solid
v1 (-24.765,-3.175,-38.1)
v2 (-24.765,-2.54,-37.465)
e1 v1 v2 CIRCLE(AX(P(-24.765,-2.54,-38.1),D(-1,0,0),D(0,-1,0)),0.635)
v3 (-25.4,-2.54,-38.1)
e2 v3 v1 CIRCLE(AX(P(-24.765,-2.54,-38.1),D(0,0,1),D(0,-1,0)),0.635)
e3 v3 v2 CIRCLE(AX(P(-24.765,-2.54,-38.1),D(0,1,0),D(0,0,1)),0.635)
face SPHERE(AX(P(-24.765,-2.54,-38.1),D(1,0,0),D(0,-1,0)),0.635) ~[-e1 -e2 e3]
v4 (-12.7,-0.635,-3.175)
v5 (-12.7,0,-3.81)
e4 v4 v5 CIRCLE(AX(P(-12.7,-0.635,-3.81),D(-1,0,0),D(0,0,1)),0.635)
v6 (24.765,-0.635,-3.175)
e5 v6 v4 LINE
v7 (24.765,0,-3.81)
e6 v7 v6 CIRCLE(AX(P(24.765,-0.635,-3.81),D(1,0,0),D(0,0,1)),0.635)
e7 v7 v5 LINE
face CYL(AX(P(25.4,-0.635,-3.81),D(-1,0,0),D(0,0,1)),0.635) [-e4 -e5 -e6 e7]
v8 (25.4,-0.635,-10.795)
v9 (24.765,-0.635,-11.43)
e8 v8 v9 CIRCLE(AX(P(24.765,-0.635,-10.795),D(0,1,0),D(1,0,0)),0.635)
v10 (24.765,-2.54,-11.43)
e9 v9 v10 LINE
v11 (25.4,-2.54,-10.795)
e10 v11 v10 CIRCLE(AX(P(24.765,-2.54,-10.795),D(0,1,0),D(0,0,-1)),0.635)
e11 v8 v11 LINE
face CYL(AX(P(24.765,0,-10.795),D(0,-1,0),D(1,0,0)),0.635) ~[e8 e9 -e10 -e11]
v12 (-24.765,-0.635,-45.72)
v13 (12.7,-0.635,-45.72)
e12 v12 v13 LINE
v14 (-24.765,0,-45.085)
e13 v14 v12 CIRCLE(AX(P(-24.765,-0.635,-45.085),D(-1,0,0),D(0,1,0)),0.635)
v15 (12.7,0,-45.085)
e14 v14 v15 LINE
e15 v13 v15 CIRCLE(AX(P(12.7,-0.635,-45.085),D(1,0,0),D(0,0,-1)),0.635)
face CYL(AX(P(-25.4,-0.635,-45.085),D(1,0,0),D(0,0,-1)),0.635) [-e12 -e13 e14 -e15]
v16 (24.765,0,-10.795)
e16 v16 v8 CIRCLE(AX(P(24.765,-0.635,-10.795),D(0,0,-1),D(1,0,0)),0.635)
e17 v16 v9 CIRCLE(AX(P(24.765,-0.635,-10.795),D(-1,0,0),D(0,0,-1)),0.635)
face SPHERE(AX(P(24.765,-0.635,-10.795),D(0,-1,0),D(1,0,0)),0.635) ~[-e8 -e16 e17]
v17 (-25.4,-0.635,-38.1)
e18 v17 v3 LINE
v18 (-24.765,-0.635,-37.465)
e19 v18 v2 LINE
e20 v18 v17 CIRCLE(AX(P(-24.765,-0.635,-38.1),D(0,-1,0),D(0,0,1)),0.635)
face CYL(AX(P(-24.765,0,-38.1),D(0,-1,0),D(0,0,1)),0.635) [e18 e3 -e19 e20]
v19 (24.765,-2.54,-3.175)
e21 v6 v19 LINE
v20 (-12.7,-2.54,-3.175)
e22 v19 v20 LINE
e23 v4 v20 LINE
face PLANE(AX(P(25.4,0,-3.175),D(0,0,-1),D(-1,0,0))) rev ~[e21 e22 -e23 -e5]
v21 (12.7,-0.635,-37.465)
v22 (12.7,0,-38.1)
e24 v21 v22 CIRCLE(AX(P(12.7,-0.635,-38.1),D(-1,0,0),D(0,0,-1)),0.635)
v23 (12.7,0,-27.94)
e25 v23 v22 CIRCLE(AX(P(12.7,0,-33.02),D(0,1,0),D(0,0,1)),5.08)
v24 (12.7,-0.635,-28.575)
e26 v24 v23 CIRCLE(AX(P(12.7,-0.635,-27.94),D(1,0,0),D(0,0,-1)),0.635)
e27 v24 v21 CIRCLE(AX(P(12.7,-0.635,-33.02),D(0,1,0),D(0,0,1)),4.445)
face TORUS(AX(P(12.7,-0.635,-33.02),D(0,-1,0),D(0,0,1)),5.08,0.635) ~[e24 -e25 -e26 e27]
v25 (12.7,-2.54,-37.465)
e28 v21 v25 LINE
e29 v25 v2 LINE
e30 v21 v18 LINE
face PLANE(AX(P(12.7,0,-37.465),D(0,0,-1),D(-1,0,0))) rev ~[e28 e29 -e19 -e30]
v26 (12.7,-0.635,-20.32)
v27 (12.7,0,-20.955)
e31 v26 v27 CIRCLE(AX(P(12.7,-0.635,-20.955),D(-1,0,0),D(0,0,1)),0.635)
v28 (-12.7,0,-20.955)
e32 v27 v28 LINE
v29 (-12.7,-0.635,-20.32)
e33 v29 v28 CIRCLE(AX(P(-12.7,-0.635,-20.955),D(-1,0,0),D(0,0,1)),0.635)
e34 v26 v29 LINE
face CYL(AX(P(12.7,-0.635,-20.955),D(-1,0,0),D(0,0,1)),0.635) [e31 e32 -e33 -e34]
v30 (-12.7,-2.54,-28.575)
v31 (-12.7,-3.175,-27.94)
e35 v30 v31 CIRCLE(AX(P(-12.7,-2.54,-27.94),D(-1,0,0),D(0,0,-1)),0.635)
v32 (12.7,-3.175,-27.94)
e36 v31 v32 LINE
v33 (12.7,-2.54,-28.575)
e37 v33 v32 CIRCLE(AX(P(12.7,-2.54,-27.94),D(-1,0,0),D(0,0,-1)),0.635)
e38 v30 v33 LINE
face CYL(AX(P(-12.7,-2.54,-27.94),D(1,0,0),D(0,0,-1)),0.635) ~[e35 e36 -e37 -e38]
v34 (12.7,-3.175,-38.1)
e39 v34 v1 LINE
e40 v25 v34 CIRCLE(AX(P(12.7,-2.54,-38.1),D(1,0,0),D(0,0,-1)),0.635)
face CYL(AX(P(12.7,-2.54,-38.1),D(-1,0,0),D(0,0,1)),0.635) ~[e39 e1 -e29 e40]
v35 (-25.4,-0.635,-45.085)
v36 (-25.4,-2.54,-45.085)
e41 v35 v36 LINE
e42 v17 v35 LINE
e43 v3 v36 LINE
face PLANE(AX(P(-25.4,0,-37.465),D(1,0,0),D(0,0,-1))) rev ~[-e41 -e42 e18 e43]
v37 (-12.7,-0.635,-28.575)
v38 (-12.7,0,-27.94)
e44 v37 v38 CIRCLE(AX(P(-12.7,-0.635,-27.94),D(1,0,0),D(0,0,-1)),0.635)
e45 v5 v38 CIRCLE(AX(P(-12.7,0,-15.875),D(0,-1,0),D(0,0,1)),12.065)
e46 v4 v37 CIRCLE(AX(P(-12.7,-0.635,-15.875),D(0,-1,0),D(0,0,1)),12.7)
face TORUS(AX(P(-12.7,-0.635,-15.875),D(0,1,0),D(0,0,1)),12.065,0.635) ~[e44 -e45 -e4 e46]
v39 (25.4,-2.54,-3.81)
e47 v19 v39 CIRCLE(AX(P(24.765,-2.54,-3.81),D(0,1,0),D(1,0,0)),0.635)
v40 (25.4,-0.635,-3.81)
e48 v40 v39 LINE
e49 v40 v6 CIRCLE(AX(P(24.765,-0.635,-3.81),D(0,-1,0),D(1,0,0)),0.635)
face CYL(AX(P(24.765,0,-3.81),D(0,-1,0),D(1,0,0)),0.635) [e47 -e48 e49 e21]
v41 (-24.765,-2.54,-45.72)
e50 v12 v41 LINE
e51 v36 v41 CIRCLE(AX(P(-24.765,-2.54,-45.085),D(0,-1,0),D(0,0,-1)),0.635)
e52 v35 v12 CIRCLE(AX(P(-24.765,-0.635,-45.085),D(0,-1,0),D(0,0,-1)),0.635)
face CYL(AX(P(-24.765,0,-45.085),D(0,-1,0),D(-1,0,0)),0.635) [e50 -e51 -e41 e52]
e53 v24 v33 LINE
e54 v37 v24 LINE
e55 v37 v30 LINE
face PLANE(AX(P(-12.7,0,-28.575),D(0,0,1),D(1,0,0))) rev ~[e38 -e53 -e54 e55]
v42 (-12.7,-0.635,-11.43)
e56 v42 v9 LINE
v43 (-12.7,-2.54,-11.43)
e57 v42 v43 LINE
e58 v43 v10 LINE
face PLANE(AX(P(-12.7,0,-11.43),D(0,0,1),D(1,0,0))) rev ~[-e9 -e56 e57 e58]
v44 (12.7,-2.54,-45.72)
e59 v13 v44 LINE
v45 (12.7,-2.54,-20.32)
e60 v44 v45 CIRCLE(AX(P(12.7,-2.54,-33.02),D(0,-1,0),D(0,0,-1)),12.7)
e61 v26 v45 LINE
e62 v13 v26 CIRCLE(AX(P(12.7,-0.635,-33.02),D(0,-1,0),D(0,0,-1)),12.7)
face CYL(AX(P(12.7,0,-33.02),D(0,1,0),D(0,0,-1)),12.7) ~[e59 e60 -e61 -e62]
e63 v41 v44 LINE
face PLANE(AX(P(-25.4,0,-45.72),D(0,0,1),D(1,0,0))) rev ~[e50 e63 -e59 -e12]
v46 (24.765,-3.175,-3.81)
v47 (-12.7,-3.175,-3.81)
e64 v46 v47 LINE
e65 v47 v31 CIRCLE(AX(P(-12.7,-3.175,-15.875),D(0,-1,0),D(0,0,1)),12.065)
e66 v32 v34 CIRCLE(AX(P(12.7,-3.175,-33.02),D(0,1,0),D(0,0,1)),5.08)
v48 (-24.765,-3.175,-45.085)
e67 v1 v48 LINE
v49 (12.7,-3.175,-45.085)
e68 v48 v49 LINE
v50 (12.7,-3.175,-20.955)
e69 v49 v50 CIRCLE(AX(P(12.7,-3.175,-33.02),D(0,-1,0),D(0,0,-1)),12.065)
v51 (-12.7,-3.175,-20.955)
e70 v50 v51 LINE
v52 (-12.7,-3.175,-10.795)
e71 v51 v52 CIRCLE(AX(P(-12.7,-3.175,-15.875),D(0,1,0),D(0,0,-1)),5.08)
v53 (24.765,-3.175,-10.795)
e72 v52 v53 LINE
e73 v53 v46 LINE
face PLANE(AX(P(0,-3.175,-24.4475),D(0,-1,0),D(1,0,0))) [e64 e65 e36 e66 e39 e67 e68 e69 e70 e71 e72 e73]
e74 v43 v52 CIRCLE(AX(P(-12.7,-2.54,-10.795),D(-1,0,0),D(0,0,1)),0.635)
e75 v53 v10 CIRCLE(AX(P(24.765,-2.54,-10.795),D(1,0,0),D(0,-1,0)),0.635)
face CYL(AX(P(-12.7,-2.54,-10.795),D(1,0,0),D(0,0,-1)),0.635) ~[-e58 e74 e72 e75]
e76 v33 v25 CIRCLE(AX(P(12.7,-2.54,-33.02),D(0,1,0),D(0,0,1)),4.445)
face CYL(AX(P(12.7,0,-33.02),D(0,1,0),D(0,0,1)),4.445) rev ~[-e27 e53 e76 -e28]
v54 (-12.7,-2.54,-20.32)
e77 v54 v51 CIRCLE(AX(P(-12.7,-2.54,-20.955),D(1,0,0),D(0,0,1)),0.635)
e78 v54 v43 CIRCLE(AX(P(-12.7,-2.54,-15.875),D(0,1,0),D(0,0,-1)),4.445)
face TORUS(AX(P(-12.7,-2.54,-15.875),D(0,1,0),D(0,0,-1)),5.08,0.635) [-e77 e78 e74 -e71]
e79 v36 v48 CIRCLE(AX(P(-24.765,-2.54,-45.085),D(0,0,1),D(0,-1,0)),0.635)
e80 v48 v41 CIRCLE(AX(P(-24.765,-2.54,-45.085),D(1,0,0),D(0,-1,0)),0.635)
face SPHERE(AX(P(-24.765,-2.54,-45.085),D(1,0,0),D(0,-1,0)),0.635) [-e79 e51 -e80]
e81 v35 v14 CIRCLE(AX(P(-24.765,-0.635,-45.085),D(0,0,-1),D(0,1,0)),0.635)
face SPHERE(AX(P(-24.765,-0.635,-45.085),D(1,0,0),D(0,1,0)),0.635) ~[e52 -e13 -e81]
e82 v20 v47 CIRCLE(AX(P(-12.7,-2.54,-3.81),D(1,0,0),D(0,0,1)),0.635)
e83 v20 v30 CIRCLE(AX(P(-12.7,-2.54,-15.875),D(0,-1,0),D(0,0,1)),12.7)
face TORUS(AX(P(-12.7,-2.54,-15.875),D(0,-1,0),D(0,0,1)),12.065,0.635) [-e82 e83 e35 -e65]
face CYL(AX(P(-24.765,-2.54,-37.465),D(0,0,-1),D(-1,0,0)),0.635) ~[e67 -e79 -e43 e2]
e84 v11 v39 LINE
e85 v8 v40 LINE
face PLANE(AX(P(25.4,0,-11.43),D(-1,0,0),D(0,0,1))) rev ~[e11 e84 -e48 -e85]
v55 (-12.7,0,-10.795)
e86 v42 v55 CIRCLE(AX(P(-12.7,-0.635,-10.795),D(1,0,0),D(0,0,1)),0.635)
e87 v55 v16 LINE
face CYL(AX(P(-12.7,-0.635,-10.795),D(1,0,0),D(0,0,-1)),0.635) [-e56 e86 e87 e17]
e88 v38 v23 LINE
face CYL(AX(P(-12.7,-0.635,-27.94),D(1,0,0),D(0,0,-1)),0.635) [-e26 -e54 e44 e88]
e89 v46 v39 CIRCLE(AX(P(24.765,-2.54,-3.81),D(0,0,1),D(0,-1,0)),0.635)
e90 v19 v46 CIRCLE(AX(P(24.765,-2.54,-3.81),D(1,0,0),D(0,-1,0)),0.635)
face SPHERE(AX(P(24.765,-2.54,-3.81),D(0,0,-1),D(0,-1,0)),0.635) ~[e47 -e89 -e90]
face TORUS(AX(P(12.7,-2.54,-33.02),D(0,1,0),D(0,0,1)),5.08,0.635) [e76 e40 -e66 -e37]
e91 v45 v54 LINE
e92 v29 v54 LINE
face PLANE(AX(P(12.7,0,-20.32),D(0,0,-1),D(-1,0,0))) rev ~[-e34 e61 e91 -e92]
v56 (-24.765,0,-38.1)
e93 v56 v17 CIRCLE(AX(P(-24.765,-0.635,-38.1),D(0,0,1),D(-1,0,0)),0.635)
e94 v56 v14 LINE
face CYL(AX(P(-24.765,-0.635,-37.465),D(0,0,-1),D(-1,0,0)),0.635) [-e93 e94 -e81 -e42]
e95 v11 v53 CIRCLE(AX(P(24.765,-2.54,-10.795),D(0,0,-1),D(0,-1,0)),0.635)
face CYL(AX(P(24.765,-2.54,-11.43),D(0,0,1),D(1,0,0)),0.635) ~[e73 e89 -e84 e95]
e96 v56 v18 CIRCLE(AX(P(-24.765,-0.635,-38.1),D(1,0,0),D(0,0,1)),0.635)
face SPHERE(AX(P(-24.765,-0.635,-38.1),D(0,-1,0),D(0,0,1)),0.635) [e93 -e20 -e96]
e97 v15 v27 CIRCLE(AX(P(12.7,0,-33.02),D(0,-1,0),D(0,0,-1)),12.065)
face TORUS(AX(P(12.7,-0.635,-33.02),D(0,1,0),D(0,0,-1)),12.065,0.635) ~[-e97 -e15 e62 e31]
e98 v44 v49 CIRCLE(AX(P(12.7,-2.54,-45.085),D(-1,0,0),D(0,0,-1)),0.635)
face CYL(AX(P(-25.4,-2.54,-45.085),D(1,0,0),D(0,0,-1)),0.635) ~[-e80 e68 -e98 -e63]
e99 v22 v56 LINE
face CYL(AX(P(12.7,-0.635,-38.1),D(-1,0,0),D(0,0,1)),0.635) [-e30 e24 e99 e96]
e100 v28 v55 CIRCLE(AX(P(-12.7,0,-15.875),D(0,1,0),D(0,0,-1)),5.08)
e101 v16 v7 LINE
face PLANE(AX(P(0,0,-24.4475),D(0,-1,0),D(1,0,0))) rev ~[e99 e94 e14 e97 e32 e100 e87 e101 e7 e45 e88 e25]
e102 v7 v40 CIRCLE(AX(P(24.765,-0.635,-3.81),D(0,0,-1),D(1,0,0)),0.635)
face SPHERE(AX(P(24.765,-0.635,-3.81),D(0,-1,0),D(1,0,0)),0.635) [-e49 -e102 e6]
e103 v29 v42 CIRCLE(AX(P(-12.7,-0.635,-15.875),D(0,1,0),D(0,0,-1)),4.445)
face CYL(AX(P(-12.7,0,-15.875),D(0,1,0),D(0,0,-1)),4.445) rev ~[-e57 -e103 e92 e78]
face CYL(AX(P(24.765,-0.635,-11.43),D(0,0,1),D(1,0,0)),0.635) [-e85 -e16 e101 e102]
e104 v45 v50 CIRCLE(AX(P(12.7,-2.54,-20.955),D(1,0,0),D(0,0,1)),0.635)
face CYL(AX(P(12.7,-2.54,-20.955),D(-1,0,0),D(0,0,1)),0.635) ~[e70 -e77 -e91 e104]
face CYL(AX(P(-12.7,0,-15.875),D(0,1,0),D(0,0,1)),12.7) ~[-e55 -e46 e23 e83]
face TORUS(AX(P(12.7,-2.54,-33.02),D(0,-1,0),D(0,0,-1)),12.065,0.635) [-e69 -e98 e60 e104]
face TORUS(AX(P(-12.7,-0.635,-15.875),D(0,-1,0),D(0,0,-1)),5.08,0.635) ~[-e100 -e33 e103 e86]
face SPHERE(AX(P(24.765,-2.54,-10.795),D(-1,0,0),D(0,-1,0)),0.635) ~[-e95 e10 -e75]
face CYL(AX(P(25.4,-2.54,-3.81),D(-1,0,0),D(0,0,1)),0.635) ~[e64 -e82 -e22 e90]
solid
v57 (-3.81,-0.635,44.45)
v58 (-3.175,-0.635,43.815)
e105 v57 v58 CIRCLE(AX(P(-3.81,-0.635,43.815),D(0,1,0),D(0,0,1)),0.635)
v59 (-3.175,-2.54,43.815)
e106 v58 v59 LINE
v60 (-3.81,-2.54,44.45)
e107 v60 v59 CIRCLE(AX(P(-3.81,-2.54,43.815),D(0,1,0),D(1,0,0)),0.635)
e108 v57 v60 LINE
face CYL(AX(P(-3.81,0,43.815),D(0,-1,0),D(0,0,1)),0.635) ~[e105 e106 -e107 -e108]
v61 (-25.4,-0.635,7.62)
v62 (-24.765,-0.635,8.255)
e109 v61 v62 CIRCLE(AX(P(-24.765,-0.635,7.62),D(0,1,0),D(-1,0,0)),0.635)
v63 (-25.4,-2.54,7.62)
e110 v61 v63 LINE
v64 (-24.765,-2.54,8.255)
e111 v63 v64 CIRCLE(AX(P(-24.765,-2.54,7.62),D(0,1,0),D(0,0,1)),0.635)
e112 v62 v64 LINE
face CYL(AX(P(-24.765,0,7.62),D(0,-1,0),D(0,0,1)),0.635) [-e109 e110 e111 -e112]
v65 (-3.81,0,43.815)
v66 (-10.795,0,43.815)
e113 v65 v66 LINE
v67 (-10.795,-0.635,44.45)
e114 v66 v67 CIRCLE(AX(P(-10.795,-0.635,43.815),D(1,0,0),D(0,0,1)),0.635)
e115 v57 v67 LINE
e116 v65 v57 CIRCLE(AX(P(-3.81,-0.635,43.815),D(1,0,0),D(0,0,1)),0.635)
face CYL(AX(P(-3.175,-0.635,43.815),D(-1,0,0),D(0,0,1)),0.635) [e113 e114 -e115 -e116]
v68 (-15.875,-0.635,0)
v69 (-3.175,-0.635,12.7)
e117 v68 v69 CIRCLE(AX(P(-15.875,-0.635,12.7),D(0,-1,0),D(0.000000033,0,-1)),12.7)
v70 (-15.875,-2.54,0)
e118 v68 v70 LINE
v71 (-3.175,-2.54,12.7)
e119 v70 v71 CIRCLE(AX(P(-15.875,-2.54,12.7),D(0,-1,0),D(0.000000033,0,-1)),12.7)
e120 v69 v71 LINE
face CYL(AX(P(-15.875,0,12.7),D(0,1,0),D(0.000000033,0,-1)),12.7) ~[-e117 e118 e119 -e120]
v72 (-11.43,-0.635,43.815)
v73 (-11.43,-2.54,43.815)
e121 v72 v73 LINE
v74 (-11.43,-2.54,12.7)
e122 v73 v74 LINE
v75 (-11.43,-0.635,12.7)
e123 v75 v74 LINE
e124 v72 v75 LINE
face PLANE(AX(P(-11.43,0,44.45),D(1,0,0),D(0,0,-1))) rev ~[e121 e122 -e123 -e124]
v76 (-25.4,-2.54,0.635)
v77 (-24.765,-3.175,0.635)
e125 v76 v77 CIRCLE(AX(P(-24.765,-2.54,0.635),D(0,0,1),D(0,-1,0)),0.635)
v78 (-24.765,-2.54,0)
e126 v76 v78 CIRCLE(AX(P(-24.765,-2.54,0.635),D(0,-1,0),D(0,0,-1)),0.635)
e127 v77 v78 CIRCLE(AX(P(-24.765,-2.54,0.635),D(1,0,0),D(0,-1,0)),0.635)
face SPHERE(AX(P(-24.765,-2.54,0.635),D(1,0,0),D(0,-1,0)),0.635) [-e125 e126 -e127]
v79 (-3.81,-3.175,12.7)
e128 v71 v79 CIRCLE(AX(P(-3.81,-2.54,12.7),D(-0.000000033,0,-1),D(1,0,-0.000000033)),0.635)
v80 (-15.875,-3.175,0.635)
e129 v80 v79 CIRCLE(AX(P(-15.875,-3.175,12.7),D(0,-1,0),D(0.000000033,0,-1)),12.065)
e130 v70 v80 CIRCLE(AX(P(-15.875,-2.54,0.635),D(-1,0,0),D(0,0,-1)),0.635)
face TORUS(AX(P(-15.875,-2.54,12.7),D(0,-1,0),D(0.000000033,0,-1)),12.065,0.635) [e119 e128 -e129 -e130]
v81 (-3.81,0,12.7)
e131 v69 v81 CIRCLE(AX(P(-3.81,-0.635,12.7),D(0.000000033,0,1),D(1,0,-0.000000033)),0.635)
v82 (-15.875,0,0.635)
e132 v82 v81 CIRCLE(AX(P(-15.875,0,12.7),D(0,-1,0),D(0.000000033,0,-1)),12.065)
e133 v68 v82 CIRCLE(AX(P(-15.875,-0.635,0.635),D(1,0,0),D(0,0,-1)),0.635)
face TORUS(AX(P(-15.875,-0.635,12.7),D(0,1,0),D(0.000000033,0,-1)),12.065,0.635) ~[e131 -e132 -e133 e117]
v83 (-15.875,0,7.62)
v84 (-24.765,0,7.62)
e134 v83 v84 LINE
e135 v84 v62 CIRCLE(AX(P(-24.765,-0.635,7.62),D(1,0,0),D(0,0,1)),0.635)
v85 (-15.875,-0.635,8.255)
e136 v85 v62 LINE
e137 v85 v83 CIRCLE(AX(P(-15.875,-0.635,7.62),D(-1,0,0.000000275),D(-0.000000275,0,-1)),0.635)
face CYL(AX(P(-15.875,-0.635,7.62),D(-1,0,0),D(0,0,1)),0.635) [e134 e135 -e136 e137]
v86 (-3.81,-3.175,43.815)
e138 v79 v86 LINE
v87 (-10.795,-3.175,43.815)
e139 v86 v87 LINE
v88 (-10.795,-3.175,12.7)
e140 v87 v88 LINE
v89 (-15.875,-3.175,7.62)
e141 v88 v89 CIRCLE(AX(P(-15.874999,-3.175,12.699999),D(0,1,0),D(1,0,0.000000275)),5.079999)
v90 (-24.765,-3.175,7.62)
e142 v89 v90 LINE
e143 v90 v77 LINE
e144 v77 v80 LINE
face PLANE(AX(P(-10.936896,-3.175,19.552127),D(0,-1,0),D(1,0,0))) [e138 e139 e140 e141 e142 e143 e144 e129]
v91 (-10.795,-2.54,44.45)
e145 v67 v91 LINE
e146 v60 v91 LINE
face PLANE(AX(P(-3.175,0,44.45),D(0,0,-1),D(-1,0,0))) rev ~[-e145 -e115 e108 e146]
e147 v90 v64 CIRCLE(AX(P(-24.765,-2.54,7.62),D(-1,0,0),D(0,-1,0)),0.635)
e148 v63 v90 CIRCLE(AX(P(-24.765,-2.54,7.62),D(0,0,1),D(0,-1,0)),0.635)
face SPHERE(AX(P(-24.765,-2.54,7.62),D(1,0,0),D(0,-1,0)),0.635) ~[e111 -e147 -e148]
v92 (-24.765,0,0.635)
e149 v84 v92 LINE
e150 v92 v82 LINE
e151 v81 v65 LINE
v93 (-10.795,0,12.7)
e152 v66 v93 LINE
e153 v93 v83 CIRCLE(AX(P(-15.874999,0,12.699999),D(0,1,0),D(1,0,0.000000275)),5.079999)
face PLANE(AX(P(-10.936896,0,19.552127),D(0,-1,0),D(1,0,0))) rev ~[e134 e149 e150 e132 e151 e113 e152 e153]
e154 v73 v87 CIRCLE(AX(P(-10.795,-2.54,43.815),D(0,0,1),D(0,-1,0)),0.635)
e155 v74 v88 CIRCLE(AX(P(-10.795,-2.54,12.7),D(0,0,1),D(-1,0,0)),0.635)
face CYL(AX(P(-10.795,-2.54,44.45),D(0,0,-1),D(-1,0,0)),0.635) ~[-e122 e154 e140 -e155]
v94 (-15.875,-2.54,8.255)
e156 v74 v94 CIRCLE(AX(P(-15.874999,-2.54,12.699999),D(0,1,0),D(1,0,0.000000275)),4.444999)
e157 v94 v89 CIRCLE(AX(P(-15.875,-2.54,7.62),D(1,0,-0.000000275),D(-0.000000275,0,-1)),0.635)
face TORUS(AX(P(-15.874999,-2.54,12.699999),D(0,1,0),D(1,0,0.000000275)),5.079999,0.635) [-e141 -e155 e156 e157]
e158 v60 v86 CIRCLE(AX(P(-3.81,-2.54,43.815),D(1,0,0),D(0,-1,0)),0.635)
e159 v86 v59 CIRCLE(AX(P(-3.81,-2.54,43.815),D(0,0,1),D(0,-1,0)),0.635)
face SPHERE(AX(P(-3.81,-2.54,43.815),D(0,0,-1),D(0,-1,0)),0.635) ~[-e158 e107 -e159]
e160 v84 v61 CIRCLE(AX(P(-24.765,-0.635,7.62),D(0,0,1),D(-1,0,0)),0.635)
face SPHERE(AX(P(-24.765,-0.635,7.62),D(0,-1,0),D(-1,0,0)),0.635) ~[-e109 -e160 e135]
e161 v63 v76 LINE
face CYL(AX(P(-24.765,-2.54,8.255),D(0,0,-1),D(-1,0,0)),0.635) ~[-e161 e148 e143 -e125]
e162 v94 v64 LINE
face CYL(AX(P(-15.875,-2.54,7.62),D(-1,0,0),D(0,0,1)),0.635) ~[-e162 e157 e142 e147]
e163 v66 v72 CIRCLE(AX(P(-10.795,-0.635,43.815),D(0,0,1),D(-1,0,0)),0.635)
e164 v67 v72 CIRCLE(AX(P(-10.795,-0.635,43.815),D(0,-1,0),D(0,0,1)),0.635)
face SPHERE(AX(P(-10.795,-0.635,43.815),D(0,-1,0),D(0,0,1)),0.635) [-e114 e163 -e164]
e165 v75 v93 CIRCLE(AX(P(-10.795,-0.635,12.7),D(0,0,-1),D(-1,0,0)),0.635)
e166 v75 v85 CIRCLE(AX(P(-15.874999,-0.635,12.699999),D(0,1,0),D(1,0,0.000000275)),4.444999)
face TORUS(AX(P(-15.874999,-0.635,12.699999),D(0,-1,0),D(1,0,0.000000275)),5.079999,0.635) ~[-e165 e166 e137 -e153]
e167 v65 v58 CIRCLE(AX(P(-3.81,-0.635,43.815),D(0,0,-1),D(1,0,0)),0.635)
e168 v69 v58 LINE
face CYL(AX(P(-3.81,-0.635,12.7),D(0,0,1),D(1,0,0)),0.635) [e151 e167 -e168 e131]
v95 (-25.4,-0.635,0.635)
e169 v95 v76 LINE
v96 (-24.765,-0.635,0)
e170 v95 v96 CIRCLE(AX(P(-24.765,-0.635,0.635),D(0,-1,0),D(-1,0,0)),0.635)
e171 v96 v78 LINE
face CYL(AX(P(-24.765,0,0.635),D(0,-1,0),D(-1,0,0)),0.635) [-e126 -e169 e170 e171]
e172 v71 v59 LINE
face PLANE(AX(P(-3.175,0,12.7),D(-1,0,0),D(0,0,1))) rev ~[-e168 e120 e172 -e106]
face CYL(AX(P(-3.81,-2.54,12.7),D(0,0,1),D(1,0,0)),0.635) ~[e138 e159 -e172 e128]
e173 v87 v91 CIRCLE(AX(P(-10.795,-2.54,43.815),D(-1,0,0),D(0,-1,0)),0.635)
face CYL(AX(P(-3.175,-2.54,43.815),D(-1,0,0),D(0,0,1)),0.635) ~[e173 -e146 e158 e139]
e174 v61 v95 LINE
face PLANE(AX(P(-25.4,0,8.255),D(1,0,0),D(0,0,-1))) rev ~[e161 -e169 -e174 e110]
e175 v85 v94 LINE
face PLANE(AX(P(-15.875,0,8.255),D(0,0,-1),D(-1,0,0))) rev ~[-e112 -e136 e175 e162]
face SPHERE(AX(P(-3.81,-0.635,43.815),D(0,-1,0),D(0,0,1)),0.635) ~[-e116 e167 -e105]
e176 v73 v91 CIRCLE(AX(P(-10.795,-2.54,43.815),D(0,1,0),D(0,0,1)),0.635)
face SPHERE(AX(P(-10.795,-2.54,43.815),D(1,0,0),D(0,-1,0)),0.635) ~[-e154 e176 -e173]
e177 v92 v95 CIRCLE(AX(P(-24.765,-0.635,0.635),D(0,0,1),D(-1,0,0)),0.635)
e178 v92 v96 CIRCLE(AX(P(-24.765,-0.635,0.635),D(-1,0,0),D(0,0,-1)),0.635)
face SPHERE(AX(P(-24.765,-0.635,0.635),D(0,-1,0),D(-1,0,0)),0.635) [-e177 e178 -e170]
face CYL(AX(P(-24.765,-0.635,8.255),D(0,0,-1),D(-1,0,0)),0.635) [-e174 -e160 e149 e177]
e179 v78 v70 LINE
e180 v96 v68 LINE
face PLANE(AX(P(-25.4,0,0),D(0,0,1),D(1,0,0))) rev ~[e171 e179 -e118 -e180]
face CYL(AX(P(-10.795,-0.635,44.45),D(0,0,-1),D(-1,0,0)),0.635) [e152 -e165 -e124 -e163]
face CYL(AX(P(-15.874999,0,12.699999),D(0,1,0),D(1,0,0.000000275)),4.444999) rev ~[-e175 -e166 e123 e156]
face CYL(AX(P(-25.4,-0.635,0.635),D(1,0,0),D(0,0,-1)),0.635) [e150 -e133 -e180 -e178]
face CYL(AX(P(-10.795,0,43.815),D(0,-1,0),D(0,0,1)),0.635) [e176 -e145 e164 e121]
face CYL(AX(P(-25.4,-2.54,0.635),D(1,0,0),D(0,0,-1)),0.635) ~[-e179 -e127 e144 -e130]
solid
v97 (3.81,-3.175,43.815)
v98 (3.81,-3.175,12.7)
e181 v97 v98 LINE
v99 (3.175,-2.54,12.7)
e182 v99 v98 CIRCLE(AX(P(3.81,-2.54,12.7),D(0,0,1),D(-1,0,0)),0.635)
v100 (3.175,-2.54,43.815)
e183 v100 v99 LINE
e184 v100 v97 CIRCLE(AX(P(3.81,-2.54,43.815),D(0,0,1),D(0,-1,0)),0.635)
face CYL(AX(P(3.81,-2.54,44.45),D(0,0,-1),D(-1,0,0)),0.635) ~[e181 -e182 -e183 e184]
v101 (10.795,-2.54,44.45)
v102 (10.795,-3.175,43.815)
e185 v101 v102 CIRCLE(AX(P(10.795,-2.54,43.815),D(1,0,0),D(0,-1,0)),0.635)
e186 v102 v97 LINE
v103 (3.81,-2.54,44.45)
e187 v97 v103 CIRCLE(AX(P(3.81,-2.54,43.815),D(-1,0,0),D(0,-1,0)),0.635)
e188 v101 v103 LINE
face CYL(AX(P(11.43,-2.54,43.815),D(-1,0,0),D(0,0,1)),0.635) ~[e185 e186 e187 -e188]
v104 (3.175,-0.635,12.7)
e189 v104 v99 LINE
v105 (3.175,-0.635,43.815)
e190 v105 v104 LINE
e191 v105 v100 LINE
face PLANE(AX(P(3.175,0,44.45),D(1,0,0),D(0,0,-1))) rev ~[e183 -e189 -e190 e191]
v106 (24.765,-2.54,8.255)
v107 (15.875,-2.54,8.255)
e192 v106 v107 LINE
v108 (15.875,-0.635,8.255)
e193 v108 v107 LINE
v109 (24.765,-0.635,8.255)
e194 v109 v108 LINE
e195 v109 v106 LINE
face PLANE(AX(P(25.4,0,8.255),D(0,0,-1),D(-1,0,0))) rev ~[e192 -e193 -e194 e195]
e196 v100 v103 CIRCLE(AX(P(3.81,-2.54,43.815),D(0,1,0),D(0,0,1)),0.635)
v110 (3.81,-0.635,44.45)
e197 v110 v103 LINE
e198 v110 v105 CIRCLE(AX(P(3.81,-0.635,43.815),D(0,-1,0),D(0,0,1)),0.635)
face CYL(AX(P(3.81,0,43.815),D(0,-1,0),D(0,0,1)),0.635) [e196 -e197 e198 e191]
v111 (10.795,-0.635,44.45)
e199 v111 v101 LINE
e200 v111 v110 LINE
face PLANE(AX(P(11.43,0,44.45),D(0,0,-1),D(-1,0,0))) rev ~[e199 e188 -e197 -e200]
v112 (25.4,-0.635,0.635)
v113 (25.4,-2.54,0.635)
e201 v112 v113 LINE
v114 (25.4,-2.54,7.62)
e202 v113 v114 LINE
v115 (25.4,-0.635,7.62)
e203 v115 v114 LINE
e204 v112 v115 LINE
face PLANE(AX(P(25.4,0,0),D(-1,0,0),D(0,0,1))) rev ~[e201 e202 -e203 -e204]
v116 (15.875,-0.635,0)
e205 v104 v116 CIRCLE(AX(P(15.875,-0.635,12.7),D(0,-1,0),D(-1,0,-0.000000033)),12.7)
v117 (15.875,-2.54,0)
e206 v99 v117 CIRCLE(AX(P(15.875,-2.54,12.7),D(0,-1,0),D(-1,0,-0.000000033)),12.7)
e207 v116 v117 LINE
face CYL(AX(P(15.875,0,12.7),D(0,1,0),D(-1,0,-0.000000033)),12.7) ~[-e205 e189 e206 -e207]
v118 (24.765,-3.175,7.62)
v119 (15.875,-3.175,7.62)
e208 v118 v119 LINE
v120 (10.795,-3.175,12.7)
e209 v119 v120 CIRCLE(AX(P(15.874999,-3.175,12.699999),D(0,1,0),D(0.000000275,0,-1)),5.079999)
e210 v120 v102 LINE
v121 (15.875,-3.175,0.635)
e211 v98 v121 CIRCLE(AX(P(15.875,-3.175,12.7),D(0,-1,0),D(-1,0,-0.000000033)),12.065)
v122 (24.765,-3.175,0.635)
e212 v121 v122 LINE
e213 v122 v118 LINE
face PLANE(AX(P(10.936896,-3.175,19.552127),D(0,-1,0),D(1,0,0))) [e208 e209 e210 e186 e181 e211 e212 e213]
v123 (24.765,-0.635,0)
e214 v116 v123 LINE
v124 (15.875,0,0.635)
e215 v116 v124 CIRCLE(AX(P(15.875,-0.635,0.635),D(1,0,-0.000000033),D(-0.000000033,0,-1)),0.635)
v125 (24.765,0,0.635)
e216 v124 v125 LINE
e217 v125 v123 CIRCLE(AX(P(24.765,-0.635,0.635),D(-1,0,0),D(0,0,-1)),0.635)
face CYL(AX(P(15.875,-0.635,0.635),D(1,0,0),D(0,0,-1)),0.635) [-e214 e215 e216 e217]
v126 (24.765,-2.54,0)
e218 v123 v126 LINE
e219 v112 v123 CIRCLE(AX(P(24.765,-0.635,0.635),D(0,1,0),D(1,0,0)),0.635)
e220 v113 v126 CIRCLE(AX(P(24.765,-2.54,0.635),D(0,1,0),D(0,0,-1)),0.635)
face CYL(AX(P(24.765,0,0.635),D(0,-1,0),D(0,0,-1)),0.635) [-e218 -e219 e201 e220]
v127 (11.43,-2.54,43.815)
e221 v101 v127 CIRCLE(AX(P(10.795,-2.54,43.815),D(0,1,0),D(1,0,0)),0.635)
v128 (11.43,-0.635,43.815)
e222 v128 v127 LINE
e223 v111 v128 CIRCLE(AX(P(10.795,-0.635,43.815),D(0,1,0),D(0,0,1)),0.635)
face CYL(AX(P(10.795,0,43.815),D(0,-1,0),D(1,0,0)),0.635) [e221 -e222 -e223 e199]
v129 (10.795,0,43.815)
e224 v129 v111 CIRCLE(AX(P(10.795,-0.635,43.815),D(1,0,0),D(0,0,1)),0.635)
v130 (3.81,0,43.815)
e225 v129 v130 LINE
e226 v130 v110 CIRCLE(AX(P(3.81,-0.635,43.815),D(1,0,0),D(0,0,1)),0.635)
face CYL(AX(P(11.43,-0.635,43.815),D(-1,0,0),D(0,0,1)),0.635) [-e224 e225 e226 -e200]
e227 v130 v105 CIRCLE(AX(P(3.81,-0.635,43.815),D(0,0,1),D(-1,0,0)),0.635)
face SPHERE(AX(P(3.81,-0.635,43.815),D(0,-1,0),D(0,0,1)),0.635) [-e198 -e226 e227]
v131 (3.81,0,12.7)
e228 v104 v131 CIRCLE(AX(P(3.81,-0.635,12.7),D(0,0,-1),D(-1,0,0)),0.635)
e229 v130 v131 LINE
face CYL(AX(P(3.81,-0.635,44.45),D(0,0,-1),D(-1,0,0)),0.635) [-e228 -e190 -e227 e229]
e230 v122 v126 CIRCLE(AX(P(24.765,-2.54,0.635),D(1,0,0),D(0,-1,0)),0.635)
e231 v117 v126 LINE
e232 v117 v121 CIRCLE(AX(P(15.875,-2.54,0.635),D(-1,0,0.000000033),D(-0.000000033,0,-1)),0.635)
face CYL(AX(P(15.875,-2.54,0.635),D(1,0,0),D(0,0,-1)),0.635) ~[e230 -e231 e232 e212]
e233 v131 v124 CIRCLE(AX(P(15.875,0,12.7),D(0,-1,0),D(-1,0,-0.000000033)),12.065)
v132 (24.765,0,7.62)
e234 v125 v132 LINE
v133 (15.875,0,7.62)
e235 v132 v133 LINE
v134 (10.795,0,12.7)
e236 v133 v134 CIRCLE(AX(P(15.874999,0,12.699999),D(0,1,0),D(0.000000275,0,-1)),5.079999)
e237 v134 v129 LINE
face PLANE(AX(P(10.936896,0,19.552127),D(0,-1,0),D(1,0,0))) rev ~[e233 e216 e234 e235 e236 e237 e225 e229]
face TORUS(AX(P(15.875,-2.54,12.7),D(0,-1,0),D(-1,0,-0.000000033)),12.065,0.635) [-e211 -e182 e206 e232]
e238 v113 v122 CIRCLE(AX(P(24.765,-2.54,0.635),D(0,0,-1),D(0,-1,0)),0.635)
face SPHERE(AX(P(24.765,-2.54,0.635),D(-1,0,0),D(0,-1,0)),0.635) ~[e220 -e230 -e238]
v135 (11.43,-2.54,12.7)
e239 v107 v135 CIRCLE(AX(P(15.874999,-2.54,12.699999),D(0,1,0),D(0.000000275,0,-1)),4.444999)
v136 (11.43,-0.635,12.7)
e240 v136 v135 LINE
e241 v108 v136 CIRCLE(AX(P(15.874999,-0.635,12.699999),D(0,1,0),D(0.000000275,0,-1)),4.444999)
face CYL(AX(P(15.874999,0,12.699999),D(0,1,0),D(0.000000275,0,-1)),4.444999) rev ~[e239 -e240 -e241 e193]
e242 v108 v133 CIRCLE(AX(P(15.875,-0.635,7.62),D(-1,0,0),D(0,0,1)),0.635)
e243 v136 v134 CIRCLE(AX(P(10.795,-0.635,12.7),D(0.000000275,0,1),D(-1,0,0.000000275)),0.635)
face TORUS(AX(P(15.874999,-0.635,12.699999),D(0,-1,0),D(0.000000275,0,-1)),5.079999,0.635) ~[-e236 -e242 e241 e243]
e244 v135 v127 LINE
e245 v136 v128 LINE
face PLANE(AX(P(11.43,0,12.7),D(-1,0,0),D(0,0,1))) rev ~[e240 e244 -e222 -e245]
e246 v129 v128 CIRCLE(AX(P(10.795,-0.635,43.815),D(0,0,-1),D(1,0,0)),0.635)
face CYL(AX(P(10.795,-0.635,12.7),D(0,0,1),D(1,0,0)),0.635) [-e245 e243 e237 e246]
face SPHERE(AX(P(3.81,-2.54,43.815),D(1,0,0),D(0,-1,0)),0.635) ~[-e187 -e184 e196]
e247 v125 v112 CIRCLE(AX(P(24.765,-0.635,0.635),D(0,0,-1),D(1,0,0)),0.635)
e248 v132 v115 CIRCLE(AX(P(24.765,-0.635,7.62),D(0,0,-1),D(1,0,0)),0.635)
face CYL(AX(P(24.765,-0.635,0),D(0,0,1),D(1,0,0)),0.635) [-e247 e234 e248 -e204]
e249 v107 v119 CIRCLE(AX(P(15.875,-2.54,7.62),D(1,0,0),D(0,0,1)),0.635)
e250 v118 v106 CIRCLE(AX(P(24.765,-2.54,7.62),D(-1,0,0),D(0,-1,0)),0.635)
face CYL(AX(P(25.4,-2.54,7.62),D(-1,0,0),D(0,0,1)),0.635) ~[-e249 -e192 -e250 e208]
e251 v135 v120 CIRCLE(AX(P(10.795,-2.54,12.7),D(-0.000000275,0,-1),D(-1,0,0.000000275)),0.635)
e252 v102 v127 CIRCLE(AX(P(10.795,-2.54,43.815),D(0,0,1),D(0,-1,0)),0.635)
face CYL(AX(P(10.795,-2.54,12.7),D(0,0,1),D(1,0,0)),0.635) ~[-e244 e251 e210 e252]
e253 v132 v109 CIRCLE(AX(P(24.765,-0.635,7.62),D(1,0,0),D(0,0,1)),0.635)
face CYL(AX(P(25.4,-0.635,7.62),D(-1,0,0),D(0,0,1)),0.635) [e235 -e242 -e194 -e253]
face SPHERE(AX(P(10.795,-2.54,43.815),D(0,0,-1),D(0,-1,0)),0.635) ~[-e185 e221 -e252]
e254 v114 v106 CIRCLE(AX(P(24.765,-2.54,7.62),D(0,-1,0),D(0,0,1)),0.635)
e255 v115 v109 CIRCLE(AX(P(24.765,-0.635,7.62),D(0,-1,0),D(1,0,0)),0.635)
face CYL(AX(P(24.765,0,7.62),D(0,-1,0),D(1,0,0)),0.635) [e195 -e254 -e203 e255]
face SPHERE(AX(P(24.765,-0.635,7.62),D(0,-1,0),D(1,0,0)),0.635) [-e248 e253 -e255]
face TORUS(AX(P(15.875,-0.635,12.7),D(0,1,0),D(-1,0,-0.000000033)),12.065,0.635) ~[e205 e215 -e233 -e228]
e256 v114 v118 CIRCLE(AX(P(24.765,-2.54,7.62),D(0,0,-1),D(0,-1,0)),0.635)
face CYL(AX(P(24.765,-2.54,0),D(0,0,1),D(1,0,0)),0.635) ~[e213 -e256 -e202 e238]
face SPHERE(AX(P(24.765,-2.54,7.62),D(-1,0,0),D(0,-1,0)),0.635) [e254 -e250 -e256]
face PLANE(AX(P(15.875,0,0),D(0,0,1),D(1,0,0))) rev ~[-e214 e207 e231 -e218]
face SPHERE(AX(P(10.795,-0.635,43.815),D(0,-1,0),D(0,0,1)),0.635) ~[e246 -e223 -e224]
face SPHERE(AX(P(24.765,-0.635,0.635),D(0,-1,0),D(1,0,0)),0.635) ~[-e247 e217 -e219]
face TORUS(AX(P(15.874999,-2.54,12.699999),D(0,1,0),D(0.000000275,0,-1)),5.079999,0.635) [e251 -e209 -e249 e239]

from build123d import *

# Parameters (mm, degrees)
F1_DEPTH = 3.175
F3_R     = 0.635


with BuildPart() as f1:
    # F0 (on Front) → F1 (new body)
    with BuildSketch(Plane.XZ):
        with BuildLine():
            Line((-3.175, 44.45), (-11.43, 44.45))
            Line((-11.43, 44.45), (-11.43, 12.7))
            ThreePointArc((-11.43, 12.7), (-12.73191, 9.55691), (-15.875, 8.255))
            Line((-15.875, 8.255), (-25.4, 8.255))
            Line((-25.4, 8.255), (-25.4, 0))
            Line((-25.4, 0), (-15.875, 0))
            ThreePointArc((-15.875, 0), (-6.894744, 3.719744), (-3.175, 12.7))
            Line((-3.175, 12.7), (-3.175, 44.45))
        make_face()
        with BuildLine():
            Line((11.43, 12.7), (11.43, 44.45))
            Line((11.43, 44.45), (3.175, 44.45))
            Line((3.175, 44.45), (3.175, 12.7))
            ThreePointArc((3.175, 12.7), (6.894744, 3.719744), (15.875, 0))
            Line((15.875, 0), (25.4, 0))
            Line((25.4, 0), (25.4, 8.255))
            Line((25.4, 8.255), (15.875, 8.255))
            ThreePointArc((15.875, 8.255), (12.73191, 9.55691), (11.43, 12.7))
        make_face()
        with BuildLine():
            Line((25.4, -11.43), (25.4, -3.175))
            Line((25.4, -3.175), (-12.7, -3.175))
            ThreePointArc((-12.7, -3.175), (-25.4, -15.875), (-12.7, -28.575))
            Line((-12.7, -28.575), (12.7, -28.575))
            ThreePointArc((12.7, -28.575), (17.145, -33.02), (12.7, -37.465))
            Line((12.7, -37.465), (-25.4, -37.465))
            Line((-25.4, -37.465), (-25.4, -45.72))
            Line((-25.4, -45.72), (12.7, -45.72))
            ThreePointArc((12.7, -45.72), (25.4, -33.02), (12.7, -20.32))
            Line((12.7, -20.32), (-12.7, -20.32))
            ThreePointArc((-12.7, -20.32), (-17.145, -15.875), (-12.7, -11.43))
            Line((-12.7, -11.43), (25.4, -11.43))
        make_face()
    extrude(amount=F1_DEPTH)

    # F3
    f3_edges = [f1.edges().sort_by_distance(p)[0] for p in [
        (12.73191, -3.175, 9.55691),
        (11.43, -3.175, 28.575),
        (7.3025, -3.175, 44.45),
        (3.175, -3.175, 28.575),
        (6.894744, -3.175, 3.719744),
        (20.6375, -3.175, 0),
        (25.4, -3.175, 4.1275),
        (20.6375, -3.175, 8.255),
        (-3.175, -3.175, 28.575),
        (-7.3025, -3.175, 44.45),
        (-11.43, -3.175, 28.575),
        (-12.73191, -3.175, 9.55691),
        (-20.6375, -3.175, 8.255),
        (-25.4, -3.175, 4.1275),
        (-20.6375, -3.175, 0),
        (-6.894744, -3.175, 3.719744),
        (25.4, -3.175, -33.02),
        (0, -3.175, -20.32),
        (-17.145, -3.175, -15.875),
        (6.35, -3.175, -11.43),
        (25.4, -3.175, -7.3025),
        (6.35, -3.175, -3.175),
        (-25.4, -3.175, -15.875),
        (0, -3.175, -28.575),
        (17.145, -3.175, -33.02),
        (-6.35, -3.175, -37.465),
        (-25.4, -3.175, -41.5925),
        (-6.35, -3.175, -45.72),
        (25.4, -1.5875, 0),
        (25.4, -1.5875, 8.255),
        (25.4, 0, 4.1275),
        (25.4, -1.5875, -11.43),
        (25.4, -1.5875, -3.175),
        (25.4, 0, -7.3025),
        (12.7, -1.5875, -45.72),
        (12.7, -1.5875, -20.32),
        (25.4, 0, -33.02),
        (12.7, -1.5875, -37.465),
        (-25.4, -1.5875, -37.465),
        (-6.35, 0, -37.465),
        (-25.4, -1.5875, 8.255),
        (-25.4, -1.5875, 0),
        (-25.4, 0, 4.1275),
        (11.43, -1.5875, 44.45),
        (3.175, -1.5875, 44.45),
        (7.3025, 0, 44.45),
        (-3.175, -1.5875, 44.45),
        (-11.43, -1.5875, 44.45),
        (-7.3025, 0, 44.45),
        (-3.175, 0, 28.575),
        (-11.43, 0, 28.575),
        (-12.73191, 0, 9.55691),
        (-20.6375, 0, 8.255),
        (-20.6375, 0, 0),
        (-6.894744, 0, 3.719744),
        (12.73191, 0, 9.55691),
        (11.43, 0, 28.575),
        (3.175, 0, 28.575),
        (6.894744, 0, 3.719744),
        (20.6375, 0, 0),
        (20.6375, 0, 8.255),
        (0, 0, -20.32),
        (-17.145, 0, -15.875),
        (6.35, 0, -11.43),
        (6.35, 0, -3.175),
        (-25.4, 0, -15.875),
        (0, 0, -28.575),
        (17.145, 0, -33.02),
        (-25.4, 0, -41.5925),
        (-6.35, 0, -45.72),
        (-25.4, -1.5875, -45.72),
    ]]
    fillet(f3_edges, radius=F3_R)


solid = f1.part
